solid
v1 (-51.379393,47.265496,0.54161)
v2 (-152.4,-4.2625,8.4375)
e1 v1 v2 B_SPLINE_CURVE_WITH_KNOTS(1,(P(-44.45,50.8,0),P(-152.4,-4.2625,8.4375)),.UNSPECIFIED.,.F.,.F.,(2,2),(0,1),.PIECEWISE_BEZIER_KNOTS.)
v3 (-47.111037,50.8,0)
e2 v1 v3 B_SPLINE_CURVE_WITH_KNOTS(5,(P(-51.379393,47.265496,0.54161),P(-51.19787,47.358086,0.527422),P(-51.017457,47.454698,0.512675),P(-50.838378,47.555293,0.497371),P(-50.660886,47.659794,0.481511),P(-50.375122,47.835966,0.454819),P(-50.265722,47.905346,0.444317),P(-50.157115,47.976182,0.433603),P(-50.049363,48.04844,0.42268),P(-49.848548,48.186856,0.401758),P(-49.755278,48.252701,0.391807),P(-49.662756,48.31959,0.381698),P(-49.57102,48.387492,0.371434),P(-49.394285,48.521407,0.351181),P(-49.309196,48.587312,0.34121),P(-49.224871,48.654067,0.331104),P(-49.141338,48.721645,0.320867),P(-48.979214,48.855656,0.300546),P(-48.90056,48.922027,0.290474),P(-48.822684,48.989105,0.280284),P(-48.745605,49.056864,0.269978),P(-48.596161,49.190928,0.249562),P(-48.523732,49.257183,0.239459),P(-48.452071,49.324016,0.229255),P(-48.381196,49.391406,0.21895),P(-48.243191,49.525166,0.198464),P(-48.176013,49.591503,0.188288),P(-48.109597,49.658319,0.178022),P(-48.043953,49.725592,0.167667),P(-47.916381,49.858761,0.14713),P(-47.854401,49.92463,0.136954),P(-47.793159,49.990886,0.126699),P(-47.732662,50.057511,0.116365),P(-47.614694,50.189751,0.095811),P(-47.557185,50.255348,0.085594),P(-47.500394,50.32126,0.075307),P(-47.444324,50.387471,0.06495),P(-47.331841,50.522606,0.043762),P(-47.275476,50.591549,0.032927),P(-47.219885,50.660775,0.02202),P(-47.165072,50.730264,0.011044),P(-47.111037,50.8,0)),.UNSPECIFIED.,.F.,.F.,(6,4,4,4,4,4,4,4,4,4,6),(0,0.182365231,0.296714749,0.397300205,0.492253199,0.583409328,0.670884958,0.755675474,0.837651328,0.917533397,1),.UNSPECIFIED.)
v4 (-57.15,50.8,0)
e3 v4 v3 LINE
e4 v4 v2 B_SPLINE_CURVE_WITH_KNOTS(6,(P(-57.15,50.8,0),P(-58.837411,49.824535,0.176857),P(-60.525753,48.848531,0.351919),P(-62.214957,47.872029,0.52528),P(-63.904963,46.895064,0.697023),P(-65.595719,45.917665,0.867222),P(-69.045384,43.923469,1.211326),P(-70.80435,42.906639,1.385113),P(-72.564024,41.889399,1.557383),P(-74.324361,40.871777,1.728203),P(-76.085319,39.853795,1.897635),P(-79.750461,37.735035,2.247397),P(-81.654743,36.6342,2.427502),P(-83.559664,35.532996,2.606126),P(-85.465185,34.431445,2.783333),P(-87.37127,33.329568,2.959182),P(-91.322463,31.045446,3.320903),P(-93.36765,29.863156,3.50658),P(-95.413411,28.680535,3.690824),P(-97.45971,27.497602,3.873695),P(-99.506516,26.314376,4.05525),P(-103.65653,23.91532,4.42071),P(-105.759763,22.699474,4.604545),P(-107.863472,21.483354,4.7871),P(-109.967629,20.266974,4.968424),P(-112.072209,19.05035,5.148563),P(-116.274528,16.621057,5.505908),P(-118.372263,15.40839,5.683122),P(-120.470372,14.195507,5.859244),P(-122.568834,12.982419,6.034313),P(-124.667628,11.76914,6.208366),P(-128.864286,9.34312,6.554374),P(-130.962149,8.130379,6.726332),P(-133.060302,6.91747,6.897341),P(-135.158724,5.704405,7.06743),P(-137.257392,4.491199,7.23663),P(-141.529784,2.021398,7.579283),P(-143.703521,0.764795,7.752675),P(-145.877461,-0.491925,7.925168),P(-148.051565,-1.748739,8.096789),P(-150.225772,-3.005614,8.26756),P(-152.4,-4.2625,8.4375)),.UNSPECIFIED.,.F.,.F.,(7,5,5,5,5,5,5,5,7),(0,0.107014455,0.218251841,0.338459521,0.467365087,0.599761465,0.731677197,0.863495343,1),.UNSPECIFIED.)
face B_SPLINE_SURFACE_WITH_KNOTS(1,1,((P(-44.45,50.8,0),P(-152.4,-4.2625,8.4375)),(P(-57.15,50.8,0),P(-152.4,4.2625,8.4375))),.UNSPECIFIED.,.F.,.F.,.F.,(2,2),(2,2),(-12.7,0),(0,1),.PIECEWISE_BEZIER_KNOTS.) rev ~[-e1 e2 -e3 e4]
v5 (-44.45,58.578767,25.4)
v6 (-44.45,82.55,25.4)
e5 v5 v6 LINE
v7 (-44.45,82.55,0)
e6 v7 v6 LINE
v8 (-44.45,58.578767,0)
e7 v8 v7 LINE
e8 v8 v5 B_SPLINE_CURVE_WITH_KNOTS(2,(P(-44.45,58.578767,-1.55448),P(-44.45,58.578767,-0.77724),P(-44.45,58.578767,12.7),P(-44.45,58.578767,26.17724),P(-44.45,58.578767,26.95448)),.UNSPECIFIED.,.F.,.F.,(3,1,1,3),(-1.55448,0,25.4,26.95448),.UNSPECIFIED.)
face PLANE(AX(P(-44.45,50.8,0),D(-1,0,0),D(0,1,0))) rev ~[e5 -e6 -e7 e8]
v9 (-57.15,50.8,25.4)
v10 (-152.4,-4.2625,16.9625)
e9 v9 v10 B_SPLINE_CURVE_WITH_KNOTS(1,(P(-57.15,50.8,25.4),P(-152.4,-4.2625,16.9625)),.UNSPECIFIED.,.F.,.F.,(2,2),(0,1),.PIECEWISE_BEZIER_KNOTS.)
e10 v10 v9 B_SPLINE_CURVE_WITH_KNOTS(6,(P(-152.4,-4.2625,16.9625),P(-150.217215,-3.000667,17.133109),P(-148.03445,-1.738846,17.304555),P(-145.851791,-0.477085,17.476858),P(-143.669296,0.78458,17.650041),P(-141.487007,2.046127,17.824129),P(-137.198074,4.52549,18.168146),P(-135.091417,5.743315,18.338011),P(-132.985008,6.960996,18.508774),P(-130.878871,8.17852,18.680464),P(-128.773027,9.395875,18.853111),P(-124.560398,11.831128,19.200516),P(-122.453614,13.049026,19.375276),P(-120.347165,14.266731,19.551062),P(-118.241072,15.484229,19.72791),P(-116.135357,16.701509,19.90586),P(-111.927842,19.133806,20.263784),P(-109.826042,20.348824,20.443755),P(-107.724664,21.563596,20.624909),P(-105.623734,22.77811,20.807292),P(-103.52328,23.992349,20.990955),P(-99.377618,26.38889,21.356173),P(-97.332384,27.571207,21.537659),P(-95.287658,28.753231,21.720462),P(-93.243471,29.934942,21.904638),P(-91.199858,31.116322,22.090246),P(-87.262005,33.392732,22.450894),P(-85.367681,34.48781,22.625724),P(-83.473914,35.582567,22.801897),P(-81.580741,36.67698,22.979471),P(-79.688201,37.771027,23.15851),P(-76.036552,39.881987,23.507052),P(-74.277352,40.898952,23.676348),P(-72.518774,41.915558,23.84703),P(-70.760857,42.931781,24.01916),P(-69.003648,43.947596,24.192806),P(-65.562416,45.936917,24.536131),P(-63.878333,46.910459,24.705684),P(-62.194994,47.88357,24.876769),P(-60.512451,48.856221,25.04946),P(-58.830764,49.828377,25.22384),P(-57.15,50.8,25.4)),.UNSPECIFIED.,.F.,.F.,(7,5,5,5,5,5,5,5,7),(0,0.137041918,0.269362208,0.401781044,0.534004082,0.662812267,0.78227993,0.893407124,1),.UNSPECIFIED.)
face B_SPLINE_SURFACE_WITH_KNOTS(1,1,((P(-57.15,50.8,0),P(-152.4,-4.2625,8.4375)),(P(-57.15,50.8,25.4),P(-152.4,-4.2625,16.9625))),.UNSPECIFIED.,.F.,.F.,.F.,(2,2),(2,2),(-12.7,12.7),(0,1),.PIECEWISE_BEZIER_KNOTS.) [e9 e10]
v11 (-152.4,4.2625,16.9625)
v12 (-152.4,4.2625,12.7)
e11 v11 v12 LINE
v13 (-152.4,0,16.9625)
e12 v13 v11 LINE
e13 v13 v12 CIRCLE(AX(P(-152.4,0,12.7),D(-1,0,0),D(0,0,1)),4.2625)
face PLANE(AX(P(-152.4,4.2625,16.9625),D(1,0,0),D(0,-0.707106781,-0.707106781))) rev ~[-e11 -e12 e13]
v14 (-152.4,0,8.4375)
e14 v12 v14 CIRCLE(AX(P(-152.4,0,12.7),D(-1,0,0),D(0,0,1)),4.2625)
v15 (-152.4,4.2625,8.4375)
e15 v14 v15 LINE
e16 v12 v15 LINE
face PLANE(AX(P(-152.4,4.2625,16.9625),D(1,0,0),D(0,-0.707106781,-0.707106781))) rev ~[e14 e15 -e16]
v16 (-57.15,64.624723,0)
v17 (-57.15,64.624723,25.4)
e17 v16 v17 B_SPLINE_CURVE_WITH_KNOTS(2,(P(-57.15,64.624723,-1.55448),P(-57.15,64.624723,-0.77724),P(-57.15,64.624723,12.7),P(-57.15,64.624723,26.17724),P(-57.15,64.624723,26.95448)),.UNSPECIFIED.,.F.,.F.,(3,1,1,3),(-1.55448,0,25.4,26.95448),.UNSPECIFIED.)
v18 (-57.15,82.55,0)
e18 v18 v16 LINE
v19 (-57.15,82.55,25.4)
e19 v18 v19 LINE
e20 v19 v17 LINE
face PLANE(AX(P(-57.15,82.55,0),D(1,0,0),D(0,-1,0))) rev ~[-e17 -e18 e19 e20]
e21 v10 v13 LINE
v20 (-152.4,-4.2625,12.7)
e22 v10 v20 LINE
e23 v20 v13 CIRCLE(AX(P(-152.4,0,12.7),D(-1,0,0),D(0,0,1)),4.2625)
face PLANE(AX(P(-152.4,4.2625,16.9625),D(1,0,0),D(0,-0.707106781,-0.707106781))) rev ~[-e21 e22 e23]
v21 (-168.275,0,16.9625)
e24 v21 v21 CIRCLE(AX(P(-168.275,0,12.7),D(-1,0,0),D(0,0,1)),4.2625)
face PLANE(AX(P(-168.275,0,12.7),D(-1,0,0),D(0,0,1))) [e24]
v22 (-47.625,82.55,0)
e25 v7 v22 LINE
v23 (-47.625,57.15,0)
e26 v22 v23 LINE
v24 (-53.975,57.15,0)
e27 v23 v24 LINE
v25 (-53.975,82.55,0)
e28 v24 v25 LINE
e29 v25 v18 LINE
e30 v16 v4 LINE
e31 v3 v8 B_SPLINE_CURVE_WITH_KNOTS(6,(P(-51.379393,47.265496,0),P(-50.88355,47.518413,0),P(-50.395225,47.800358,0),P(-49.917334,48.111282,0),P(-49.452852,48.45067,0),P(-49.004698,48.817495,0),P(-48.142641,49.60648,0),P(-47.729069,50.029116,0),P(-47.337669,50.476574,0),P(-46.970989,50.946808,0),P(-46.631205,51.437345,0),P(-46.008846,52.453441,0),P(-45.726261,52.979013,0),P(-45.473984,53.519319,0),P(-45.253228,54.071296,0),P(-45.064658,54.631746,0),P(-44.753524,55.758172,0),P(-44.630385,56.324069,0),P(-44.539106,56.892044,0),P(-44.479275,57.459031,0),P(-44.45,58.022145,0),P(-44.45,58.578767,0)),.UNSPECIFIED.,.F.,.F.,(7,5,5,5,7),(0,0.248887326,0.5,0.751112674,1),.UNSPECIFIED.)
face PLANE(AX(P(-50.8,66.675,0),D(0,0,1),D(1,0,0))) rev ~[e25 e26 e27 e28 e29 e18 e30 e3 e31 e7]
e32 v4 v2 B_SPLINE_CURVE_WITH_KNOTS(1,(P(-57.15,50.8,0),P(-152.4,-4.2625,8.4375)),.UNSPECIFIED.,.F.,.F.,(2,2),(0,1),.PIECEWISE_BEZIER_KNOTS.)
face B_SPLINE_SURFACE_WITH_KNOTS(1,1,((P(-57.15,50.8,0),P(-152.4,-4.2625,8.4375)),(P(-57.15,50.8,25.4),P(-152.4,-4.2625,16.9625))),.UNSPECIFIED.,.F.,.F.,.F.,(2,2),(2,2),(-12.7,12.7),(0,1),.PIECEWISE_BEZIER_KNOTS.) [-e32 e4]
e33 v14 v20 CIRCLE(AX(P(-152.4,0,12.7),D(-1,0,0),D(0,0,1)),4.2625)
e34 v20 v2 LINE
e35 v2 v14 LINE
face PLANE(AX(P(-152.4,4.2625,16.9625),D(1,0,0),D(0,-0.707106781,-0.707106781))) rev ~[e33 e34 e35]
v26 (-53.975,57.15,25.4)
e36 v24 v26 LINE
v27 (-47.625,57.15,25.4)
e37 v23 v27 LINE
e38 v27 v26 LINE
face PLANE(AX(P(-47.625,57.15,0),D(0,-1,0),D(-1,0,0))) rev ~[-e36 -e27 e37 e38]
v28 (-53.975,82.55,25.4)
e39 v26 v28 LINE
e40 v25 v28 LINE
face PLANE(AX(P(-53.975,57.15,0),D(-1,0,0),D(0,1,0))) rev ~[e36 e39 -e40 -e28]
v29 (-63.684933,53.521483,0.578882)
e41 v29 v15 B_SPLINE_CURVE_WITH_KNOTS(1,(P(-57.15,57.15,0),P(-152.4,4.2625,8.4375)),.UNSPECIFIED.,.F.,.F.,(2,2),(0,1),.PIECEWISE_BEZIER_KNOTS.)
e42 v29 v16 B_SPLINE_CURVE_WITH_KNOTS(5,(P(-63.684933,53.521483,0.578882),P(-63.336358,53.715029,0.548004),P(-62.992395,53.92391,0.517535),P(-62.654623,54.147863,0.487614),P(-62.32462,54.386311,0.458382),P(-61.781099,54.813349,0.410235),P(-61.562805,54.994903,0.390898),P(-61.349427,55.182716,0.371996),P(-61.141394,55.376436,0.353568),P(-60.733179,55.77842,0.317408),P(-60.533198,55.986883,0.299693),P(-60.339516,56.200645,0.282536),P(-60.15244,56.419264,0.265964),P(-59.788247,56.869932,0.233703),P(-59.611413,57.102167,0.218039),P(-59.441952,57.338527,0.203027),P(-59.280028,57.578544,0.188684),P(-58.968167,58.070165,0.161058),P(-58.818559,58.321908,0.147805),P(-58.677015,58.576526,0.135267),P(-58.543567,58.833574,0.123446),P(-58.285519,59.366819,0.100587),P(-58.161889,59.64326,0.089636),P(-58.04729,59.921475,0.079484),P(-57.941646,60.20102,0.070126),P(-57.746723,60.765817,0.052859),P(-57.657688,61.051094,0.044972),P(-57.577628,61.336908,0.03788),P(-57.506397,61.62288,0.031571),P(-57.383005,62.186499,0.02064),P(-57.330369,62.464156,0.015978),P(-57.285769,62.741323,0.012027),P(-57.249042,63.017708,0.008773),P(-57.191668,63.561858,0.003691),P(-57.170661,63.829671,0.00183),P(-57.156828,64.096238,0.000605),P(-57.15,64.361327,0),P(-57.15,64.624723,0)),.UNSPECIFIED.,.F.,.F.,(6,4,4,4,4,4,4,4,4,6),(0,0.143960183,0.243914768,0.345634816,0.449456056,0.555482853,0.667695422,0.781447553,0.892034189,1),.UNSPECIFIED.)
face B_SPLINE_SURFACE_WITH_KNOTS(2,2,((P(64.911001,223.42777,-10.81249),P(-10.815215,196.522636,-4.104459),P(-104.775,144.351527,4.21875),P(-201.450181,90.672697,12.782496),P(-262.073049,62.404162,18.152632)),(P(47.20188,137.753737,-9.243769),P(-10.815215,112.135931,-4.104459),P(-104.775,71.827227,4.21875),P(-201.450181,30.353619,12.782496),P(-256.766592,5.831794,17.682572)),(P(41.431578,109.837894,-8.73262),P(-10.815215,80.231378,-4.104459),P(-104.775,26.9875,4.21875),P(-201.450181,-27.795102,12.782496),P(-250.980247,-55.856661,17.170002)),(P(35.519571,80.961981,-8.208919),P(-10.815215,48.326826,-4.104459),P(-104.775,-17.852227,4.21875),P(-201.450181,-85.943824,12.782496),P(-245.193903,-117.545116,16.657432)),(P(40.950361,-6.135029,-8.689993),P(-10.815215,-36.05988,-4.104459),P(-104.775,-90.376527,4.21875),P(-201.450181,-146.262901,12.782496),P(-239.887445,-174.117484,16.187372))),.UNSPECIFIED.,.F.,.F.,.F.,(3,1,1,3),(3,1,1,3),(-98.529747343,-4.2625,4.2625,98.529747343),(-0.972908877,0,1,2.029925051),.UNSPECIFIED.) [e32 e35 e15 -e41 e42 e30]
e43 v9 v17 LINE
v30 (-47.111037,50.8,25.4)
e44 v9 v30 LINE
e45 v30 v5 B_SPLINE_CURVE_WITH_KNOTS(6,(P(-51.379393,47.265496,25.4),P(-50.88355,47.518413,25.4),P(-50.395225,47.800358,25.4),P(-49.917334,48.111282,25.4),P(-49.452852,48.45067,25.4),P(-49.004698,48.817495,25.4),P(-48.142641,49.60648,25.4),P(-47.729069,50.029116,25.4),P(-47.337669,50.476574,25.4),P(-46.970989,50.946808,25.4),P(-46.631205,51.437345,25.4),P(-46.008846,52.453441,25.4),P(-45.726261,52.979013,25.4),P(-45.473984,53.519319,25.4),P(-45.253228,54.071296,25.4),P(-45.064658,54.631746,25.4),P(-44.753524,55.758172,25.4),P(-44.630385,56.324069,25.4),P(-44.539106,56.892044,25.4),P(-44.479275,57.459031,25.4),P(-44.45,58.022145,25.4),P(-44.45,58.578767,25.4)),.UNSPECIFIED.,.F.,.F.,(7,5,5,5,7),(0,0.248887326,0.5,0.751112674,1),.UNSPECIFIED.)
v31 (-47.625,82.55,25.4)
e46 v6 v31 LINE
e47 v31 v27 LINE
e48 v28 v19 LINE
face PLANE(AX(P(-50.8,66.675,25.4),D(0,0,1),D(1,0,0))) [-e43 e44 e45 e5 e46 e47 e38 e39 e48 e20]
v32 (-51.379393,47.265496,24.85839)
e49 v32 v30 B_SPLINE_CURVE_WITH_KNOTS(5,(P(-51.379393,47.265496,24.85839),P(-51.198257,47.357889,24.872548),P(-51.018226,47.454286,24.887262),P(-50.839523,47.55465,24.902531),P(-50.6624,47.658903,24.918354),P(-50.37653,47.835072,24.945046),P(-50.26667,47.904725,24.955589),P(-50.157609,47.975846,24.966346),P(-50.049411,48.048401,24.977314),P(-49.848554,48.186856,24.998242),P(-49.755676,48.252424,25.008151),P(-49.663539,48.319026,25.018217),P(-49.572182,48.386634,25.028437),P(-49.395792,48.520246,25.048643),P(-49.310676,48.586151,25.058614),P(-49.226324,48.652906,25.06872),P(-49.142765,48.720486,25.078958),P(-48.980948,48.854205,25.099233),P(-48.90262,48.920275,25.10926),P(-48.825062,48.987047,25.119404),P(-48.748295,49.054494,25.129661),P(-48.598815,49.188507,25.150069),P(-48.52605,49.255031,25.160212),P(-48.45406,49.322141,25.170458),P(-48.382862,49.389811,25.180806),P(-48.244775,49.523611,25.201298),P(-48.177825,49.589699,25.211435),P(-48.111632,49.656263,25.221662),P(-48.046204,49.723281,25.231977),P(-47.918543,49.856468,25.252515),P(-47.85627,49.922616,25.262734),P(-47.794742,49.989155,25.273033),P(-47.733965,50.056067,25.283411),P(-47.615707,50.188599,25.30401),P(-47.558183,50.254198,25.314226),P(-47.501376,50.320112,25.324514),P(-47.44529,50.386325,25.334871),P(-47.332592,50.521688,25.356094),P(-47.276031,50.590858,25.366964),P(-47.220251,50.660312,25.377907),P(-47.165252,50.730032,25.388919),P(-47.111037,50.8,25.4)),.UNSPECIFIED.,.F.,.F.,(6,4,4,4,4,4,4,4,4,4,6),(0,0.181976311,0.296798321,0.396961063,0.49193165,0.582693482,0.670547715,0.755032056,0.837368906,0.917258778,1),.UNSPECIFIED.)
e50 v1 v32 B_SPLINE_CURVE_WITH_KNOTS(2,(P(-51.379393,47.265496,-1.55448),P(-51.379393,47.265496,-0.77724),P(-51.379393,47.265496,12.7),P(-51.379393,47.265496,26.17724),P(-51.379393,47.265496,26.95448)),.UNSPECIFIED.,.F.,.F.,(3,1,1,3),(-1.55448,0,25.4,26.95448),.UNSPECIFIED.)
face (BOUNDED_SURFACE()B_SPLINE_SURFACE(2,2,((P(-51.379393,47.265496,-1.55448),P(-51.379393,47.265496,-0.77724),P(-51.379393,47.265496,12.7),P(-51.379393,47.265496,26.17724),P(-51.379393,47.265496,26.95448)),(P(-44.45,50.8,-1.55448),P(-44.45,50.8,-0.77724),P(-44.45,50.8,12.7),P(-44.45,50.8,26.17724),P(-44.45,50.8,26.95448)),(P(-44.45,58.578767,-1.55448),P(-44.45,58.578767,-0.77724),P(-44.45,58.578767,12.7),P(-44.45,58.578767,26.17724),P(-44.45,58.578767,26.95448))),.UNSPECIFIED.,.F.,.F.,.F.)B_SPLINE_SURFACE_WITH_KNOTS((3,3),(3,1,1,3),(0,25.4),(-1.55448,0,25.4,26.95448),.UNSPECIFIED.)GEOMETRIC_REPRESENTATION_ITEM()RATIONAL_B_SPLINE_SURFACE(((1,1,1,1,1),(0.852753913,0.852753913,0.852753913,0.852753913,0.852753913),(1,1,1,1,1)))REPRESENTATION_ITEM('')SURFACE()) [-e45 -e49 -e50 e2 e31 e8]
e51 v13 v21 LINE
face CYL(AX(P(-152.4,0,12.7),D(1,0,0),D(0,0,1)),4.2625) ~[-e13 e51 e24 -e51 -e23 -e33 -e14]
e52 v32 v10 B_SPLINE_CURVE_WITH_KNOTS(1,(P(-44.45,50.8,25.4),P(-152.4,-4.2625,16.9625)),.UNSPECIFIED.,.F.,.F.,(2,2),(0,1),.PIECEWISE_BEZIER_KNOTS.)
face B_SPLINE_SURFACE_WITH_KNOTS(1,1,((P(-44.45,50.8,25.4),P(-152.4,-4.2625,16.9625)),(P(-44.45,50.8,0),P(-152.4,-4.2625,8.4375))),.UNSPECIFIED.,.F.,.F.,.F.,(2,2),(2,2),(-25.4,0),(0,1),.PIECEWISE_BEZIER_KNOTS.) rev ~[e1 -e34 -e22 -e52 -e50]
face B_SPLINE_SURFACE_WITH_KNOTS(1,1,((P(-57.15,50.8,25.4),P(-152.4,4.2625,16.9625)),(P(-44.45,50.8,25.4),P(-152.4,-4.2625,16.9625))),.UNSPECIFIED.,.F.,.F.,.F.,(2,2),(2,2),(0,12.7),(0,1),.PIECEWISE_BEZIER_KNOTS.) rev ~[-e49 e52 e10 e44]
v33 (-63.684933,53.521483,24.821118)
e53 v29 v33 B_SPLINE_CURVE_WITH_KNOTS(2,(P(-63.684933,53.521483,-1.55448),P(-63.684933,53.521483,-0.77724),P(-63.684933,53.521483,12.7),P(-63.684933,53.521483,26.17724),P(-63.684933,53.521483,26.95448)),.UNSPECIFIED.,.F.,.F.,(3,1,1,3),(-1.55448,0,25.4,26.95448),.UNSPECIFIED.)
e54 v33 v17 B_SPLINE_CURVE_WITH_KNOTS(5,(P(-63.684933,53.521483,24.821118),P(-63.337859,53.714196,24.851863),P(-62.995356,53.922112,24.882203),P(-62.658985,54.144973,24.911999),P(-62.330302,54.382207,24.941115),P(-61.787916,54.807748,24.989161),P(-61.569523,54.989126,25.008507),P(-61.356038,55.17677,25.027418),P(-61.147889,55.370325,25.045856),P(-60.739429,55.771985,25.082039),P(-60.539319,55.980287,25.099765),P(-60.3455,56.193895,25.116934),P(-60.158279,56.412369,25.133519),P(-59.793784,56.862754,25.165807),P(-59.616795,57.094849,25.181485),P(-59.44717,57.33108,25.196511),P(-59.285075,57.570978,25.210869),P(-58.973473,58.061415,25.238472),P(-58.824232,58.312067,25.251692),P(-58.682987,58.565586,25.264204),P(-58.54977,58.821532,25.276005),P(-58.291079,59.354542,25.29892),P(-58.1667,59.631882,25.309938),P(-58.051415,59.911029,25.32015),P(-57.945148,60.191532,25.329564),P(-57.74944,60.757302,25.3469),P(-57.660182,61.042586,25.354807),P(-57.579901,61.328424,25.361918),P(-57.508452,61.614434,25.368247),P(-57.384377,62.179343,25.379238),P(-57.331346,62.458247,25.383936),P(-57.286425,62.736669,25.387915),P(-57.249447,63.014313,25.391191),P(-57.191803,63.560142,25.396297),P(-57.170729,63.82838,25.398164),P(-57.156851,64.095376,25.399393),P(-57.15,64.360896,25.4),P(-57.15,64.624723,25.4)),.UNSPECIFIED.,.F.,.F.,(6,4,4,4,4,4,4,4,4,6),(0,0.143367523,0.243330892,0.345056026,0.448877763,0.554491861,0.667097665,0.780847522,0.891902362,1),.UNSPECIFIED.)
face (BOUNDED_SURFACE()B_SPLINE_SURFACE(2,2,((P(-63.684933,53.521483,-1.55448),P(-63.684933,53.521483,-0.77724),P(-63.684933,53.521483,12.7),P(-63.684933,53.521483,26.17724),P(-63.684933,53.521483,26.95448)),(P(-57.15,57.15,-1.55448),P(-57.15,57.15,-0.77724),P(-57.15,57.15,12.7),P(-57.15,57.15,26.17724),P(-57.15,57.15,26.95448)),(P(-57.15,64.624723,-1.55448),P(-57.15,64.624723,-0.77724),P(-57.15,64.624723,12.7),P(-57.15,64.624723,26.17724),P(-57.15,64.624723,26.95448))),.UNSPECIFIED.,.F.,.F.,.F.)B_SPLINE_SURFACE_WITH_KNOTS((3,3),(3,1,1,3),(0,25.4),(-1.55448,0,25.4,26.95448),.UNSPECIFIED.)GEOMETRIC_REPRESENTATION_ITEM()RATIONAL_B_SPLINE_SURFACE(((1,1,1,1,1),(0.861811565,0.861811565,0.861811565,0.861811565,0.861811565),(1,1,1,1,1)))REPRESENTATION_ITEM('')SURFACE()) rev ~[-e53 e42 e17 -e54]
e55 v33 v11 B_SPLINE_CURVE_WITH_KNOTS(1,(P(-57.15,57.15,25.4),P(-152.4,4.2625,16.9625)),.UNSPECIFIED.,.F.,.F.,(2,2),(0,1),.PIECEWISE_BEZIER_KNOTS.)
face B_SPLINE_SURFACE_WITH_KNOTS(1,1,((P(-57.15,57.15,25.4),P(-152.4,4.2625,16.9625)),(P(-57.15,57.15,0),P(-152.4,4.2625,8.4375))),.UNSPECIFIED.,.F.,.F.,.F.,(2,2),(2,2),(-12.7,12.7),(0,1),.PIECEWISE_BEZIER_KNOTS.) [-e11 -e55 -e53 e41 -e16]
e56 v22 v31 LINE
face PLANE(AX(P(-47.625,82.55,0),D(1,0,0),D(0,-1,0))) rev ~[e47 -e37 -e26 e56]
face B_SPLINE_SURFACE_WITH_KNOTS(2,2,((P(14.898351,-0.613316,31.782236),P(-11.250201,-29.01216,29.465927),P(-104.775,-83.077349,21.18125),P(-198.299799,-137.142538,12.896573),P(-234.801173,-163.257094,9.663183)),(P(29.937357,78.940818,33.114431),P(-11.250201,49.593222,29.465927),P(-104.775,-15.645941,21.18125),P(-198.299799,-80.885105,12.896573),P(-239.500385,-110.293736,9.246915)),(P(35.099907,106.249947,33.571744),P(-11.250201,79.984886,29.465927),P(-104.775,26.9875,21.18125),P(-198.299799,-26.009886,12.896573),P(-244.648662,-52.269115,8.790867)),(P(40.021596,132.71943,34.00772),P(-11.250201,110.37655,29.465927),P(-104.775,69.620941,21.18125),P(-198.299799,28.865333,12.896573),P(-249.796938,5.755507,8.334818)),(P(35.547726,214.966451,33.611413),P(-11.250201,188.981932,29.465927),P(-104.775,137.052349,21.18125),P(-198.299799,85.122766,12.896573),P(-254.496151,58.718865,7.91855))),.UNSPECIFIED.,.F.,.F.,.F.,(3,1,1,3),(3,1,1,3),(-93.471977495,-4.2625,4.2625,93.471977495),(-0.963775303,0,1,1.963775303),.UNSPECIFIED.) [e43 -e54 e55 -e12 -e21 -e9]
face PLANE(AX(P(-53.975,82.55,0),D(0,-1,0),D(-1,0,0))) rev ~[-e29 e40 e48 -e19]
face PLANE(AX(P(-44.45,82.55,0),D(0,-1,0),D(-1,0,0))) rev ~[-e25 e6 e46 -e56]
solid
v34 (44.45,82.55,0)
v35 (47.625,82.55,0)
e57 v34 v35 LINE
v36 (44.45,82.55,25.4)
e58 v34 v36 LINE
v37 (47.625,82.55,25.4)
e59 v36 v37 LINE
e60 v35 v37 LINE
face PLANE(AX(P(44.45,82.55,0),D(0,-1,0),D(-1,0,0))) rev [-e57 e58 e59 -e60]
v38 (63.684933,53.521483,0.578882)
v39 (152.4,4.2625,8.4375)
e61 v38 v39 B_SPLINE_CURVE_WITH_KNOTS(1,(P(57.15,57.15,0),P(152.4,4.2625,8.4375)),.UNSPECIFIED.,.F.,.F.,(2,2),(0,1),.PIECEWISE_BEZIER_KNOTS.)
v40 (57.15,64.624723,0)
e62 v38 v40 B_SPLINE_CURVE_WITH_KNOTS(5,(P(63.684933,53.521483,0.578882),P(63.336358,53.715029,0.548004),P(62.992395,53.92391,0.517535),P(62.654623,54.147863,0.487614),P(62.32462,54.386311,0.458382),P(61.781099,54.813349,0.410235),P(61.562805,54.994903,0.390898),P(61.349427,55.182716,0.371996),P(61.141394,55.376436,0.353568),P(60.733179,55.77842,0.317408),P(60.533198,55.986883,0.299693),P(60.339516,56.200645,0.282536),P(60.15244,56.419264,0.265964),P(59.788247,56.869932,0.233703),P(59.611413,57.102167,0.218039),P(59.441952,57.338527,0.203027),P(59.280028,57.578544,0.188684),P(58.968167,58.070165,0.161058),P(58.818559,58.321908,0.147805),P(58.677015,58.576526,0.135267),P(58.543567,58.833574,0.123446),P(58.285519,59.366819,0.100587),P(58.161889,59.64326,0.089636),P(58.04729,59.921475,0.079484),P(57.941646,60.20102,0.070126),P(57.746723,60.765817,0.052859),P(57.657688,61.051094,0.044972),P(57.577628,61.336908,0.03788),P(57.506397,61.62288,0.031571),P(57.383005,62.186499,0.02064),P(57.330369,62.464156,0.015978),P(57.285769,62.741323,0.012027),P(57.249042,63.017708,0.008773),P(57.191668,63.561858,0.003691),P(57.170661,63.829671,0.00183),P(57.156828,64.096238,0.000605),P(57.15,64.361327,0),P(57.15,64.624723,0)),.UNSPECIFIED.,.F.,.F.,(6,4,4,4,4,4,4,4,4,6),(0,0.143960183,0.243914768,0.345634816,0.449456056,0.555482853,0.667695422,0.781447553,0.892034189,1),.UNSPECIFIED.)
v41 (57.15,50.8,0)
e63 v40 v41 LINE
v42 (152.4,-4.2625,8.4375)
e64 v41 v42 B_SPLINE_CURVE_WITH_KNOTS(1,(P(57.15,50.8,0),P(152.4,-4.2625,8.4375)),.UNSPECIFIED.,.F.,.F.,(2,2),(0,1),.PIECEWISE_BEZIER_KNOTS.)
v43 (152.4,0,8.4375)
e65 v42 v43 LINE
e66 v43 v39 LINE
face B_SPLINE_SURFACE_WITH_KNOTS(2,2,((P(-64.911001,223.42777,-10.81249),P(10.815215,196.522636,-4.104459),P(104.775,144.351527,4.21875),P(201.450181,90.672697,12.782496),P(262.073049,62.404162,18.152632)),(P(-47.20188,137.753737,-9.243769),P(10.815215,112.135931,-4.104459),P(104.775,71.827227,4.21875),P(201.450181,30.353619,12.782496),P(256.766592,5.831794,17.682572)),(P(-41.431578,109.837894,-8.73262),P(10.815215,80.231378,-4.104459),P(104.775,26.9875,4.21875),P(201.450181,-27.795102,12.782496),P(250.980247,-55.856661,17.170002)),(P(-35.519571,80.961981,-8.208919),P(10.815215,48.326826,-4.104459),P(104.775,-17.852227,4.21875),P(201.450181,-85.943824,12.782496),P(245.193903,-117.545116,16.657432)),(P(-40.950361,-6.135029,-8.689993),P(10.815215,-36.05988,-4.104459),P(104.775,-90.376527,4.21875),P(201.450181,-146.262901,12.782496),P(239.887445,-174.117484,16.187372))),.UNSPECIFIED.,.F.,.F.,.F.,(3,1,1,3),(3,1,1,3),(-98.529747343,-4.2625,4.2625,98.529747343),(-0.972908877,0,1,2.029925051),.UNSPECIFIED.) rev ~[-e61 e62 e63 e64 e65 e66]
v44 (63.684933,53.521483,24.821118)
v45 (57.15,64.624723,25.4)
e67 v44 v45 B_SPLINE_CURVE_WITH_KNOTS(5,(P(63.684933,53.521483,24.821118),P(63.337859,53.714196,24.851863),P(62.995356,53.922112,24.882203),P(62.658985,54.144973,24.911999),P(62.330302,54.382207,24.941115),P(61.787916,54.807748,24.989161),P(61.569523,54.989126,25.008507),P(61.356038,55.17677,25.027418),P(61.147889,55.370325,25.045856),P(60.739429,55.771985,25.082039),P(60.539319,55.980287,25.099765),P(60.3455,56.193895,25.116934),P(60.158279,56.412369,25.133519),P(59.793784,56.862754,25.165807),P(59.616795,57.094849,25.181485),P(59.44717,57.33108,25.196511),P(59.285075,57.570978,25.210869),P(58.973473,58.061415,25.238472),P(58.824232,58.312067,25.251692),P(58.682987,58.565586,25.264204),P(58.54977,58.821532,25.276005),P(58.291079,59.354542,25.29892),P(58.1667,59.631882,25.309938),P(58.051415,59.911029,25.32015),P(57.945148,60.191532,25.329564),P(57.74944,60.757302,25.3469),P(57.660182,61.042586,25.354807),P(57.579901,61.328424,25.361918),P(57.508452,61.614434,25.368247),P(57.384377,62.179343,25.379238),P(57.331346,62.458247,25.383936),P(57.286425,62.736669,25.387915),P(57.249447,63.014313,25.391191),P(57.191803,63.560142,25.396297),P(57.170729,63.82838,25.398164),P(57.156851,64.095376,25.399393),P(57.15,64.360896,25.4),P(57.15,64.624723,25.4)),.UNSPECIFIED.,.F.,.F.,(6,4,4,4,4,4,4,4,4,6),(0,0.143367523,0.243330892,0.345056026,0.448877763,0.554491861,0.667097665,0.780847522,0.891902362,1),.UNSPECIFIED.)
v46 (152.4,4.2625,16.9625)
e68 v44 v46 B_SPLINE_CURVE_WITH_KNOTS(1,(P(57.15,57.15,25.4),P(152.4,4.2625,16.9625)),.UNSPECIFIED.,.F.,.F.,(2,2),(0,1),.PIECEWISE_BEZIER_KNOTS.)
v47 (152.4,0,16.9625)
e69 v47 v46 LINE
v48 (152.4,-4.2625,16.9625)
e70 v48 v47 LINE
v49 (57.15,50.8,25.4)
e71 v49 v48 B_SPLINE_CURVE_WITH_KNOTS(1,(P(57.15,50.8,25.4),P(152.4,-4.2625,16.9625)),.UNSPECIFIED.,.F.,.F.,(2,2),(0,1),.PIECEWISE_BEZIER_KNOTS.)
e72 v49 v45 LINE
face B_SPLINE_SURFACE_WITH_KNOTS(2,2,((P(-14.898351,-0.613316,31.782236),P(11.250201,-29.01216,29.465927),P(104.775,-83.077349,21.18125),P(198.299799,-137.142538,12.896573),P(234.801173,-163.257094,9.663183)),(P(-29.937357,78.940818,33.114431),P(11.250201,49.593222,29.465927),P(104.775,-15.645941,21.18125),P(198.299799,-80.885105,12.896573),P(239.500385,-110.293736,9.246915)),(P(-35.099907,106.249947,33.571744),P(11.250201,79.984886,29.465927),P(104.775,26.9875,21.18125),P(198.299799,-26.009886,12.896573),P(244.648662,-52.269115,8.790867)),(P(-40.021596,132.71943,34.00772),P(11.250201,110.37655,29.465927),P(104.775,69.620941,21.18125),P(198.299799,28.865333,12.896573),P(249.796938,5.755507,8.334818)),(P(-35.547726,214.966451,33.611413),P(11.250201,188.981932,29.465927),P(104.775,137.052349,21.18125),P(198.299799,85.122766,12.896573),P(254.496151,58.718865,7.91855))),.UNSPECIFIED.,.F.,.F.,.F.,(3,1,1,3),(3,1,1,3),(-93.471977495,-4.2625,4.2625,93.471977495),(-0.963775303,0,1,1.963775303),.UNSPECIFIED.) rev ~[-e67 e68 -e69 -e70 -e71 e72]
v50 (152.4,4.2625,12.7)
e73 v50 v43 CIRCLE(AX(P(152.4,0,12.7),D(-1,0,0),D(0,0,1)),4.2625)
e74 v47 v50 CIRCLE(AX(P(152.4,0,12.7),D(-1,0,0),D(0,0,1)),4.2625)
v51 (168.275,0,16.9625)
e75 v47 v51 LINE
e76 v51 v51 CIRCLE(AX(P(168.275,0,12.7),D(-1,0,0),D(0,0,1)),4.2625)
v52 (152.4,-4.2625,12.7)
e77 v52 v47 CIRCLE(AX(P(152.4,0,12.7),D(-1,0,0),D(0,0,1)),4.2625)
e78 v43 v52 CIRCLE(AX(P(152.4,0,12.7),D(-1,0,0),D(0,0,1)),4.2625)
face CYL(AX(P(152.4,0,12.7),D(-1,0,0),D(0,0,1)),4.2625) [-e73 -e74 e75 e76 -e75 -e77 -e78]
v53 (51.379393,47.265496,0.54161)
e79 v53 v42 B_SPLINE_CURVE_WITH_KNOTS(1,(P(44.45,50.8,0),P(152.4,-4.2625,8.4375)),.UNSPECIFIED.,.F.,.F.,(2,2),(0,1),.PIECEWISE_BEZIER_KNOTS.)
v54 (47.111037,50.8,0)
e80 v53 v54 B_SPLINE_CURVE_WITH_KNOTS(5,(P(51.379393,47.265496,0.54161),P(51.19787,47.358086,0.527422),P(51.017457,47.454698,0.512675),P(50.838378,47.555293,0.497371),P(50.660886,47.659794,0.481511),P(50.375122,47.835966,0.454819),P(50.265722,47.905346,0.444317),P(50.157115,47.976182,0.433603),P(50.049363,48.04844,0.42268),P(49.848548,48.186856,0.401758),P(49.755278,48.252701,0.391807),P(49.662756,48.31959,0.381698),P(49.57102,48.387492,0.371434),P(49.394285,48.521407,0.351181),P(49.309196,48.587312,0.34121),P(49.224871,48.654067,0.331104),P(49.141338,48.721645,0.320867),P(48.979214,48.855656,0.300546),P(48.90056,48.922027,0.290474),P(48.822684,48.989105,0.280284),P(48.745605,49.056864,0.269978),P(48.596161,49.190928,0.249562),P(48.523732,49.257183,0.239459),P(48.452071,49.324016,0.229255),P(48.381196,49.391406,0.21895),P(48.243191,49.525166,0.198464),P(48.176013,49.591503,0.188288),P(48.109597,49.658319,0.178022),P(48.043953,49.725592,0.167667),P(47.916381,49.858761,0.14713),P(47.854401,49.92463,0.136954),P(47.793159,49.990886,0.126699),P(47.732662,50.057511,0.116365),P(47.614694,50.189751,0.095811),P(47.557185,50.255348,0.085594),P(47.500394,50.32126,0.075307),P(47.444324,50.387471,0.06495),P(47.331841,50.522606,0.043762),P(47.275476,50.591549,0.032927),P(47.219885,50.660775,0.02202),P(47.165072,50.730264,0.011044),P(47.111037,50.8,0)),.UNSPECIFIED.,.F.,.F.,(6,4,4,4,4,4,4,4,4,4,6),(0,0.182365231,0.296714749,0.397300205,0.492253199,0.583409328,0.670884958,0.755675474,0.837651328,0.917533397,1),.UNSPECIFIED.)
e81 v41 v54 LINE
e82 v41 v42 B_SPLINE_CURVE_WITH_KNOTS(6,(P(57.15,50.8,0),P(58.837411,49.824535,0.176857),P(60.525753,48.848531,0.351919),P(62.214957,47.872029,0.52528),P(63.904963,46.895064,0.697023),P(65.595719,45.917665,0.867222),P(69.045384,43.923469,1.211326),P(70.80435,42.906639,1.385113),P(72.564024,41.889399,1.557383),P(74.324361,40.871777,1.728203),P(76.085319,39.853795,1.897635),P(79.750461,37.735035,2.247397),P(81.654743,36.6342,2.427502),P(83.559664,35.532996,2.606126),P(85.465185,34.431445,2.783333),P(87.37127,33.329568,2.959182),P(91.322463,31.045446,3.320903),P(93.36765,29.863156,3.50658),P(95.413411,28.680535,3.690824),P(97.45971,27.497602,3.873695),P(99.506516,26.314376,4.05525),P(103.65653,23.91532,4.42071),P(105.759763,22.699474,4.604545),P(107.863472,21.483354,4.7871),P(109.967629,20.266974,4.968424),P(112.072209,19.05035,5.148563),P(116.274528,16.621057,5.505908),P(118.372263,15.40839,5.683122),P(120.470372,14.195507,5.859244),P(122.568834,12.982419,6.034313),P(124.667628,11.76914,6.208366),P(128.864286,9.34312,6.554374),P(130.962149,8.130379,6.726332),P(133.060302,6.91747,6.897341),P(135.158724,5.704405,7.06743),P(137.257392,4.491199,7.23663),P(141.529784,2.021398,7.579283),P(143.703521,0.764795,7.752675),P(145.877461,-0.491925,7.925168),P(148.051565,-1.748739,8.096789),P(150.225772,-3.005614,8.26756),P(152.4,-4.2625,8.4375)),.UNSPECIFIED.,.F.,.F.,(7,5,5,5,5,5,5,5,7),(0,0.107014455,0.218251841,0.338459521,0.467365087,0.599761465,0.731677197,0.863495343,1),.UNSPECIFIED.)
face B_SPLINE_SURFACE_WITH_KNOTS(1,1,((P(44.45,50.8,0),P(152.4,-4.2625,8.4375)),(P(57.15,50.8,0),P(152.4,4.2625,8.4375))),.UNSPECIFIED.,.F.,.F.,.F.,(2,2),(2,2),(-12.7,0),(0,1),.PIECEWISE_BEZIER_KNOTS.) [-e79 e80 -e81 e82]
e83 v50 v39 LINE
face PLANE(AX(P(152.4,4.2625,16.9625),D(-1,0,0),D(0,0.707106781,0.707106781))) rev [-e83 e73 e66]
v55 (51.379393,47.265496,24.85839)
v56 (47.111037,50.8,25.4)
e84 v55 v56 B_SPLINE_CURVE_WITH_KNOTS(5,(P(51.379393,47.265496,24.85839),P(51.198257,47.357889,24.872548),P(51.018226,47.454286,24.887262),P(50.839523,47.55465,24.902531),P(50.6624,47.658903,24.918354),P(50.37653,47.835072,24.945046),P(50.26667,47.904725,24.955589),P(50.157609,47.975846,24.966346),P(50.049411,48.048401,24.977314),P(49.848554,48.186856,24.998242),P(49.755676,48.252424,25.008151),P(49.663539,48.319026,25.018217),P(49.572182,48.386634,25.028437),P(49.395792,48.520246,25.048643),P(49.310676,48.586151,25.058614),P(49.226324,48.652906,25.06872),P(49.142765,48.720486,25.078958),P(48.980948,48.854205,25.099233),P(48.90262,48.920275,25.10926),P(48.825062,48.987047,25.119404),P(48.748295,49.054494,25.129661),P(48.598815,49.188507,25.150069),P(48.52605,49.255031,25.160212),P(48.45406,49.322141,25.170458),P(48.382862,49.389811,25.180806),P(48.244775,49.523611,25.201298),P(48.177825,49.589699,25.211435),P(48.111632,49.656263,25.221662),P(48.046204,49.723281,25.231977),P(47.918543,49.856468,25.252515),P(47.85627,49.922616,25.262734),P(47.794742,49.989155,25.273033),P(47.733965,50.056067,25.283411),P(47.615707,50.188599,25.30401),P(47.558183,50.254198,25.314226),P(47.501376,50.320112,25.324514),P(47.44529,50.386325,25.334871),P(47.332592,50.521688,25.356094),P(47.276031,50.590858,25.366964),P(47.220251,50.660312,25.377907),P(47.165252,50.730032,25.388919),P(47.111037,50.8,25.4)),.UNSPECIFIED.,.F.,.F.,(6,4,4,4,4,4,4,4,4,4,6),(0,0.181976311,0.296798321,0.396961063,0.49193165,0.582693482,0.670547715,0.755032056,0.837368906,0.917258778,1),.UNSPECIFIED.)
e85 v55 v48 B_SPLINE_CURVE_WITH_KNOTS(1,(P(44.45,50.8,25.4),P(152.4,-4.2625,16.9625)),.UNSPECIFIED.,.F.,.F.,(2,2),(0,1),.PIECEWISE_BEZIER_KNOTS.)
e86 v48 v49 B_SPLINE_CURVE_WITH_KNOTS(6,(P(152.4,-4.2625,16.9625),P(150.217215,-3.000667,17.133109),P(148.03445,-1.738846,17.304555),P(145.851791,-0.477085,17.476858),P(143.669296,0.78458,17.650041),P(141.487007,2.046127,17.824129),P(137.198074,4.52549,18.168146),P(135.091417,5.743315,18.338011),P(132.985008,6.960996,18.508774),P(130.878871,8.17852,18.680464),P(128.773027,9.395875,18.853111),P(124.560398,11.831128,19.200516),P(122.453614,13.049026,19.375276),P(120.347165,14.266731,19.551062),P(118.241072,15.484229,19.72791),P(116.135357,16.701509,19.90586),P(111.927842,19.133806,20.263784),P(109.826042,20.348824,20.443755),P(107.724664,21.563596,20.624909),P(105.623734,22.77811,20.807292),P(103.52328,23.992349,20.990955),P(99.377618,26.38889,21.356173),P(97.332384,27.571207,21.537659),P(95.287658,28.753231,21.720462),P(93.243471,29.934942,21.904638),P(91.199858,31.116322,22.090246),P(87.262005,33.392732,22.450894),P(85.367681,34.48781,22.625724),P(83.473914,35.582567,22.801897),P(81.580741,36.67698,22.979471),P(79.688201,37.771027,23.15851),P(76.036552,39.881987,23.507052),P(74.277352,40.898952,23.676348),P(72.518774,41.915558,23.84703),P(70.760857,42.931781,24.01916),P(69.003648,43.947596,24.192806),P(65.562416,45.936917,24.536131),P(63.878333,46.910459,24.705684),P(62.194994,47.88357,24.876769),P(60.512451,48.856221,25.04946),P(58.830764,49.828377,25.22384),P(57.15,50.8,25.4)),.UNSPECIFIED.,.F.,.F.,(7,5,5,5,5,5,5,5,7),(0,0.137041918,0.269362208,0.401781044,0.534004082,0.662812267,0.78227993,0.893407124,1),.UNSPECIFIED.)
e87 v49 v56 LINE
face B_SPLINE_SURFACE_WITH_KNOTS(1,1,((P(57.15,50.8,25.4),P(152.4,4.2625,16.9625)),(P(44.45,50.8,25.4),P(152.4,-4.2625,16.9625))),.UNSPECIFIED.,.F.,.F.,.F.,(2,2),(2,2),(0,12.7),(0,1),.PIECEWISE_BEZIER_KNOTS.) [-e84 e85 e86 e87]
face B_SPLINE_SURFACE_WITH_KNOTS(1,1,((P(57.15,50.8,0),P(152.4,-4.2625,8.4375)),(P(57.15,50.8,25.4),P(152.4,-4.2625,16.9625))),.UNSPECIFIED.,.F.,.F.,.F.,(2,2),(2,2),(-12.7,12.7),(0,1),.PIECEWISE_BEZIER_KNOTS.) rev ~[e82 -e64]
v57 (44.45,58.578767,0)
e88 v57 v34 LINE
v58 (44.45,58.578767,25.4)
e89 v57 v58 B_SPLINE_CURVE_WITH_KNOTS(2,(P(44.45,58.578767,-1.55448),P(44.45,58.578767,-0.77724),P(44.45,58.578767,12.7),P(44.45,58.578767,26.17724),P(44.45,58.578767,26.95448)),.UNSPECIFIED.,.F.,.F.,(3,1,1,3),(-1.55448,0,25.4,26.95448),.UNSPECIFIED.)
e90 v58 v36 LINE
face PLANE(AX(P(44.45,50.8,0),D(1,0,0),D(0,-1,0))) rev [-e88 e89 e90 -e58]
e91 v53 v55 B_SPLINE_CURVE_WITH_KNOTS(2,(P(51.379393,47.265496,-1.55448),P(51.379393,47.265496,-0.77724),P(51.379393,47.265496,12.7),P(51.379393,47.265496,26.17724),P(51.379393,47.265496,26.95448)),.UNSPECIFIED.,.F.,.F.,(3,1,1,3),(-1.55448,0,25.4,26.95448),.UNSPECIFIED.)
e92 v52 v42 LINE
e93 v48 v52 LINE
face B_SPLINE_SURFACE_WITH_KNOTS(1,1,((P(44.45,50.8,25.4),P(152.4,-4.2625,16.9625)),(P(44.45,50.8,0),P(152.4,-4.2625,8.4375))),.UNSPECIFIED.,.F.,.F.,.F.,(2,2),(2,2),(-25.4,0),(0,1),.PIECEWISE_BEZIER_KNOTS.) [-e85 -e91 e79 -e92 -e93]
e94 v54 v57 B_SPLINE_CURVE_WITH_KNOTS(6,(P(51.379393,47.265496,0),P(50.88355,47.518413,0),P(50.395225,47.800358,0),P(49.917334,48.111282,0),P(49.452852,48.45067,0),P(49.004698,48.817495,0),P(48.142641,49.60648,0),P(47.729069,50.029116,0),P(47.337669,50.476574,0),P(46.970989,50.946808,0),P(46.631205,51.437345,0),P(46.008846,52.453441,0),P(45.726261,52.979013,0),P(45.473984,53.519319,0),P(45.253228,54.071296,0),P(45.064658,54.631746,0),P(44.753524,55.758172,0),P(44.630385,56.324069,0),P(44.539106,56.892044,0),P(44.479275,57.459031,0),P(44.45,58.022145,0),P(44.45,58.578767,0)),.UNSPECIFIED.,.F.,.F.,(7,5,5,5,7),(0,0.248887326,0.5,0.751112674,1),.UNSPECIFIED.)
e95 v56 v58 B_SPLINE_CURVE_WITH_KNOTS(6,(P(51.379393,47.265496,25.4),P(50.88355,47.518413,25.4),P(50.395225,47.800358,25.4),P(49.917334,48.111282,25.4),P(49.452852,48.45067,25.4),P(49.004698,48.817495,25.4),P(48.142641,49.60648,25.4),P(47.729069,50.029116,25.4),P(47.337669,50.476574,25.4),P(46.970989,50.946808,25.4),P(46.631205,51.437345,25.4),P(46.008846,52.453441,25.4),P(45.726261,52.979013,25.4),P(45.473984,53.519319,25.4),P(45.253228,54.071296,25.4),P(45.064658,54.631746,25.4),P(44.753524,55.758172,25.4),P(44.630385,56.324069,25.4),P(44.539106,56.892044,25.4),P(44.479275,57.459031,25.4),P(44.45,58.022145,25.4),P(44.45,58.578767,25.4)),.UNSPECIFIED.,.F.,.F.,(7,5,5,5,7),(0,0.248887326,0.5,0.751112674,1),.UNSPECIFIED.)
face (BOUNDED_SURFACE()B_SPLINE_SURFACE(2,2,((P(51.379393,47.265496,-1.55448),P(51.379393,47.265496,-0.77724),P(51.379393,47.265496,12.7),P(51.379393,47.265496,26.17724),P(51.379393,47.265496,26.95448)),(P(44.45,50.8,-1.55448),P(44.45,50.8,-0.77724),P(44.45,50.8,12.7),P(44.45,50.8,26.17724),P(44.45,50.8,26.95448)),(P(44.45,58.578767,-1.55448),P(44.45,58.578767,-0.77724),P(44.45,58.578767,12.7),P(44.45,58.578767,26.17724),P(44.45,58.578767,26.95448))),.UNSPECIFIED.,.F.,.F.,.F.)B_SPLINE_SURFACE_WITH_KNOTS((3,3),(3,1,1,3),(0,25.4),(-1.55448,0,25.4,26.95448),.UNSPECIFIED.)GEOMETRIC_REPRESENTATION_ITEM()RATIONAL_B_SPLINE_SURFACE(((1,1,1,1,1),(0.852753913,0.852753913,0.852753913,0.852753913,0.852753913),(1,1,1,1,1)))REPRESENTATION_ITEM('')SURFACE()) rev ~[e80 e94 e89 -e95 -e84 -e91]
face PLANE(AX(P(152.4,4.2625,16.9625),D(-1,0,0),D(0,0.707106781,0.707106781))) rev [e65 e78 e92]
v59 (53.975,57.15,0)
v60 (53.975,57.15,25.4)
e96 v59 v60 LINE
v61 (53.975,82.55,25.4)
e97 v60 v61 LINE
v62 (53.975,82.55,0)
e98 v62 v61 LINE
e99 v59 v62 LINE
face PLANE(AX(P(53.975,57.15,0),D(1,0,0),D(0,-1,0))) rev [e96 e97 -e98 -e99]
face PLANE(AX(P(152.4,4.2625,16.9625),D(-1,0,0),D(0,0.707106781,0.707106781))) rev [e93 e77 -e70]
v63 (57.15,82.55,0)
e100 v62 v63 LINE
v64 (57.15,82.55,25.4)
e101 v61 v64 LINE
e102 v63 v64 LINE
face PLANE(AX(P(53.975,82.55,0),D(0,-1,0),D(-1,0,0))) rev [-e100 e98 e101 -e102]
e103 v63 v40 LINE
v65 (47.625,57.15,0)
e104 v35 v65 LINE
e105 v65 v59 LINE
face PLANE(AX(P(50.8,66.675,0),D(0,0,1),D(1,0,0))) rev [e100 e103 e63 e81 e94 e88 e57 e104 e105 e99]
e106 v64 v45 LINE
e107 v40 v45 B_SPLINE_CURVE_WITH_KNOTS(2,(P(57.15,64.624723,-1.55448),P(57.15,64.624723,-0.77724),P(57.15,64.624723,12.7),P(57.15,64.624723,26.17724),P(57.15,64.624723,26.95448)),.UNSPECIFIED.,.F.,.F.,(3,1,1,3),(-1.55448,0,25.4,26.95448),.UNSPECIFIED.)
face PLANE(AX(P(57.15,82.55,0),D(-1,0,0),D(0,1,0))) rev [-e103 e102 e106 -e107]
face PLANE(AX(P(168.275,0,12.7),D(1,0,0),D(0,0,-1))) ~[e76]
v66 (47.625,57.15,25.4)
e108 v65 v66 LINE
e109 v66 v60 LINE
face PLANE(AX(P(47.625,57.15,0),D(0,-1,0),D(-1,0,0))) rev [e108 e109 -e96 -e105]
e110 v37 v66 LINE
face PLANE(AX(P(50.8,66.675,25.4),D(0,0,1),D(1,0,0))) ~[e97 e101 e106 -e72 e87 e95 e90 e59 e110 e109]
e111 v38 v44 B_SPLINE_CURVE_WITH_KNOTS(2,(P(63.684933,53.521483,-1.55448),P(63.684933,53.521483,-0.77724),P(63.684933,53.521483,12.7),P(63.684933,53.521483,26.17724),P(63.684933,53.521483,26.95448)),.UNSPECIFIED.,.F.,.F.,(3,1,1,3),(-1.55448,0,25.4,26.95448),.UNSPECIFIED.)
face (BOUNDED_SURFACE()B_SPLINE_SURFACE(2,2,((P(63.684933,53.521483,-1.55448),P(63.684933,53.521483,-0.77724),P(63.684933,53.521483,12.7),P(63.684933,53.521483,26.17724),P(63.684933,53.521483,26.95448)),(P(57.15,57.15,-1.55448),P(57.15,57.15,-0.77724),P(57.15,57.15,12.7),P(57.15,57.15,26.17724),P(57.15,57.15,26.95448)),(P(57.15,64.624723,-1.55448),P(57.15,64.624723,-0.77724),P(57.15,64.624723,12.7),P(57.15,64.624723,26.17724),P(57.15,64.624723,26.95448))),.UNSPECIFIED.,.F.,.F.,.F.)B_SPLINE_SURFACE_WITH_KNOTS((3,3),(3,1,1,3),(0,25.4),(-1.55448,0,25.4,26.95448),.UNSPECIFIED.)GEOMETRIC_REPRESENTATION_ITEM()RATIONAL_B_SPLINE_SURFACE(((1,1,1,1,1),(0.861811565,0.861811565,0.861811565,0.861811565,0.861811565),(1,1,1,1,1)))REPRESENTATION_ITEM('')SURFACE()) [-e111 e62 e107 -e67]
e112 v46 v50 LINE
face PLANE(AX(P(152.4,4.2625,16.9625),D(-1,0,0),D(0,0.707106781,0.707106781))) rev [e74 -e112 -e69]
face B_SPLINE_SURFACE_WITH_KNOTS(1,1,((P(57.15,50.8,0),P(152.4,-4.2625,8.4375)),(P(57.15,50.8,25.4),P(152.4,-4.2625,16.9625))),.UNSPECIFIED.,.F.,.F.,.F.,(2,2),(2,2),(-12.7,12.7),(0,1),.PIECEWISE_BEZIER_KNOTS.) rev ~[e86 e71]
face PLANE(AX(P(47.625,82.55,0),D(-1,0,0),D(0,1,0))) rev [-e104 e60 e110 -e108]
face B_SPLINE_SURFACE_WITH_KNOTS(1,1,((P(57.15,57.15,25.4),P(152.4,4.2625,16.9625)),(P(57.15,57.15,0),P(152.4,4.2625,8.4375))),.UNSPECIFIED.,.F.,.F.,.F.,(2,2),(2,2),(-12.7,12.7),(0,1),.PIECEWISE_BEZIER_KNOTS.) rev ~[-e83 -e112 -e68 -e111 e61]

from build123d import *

# Parameters (mm, degrees)
BOSS_EXTRUDE1_DEPTH = 25.4
FILLET2_R           = 12.7
FILLET3_R           = 12.7
SKETCH7_R           = 4.2625
BOSS_EXTRUDE3_DEPTH = 15.875


with BuildPart() as part:
    # Sketch3 → Boss-Extrude1 (new body)
    with BuildSketch(Plane.XY):
        Polygon((-44.45, 50.8), (-44.45, 82.55), (-47.625, 82.55), (-47.625, 57.15), (-53.975, 57.15), (-53.975, 82.55), (-57.15, 82.55), (-57.15, 50.8), align=None)
    extrude(amount=BOSS_EXTRUDE1_DEPTH)

    # Sketch5 → section 1 of loft1
    with BuildSketch(Plane(origin=(-152.4, 0, 0), x_dir=(0, 0, -1), z_dir=(1, 0, 0)), mode=Mode.PRIVATE) as loft1_s1:
        with BuildLine():
            Line((-16.9625, 4.2625), (-8.4375, 4.2625))
            Line((-8.4375, 4.2625), (-8.4375, -4.2625))
            Line((-8.4375, -4.2625), (-16.9625, -4.2625))
            Line((-16.9625, -4.2625), (-16.9625, 4.2625))
        make_face()
    # loft from a face of the part (loft1)
    loft([part.faces().sort_by_distance((-50.8, 50.8, 12.7))[0], loft1_s1.sketch])

    # Sketch6 → Loft2 section 0
    with BuildSketch(Plane.ZY.offset(57.15)):
        with BuildLine():
            Line((0, 50.8), (25.4, 50.8))
            Line((25.4, 50.8), (25.4, 57.15))
            Line((25.4, 57.15), (0, 57.15))
            Line((0, 57.15), (0, 50.8))
        make_face()
    # Sketch5<2> → Loft2 section 1
    with BuildSketch(Plane(origin=(-152.4, 0, 0), x_dir=(0, 0, -1), z_dir=(1, 0, 0))):
        with BuildLine():
            Line((-16.9625, 4.2625), (-8.4375, 4.2625))
            Line((-8.4375, 4.2625), (-8.4375, -4.2625))
            Line((-8.4375, -4.2625), (-16.9625, -4.2625))
            Line((-16.9625, -4.2625), (-16.9625, 4.2625))
        make_face()
    loft()

    # Fillet2
    fillet2_edges = [part.edges().sort_by_distance(p)[0] for p in [
        (-57.15, 57.15, 12.7),
    ]]
    fillet(fillet2_edges, radius=FILLET2_R)

    # Fillet3
    fillet3_edges = [part.edges().sort_by_distance(p)[0] for p in [
        (-44.45, 50.8, 12.7),
    ]]
    fillet(fillet3_edges, radius=FILLET3_R)

    # Sketch7 → Boss-Extrude3 (add)
    with BuildSketch(Plane.ZY.offset(152.4)):
        with Locations((12.7, 0)):
            Circle(SKETCH7_R)
    extrude(amount=BOSS_EXTRUDE3_DEPTH)


with BuildPart() as body_2:
    # Mirror2: mirrored copy
    add(part.part.mirror(Plane(origin=(0, 0, 0), x_dir=(0, 0, 1), z_dir=(1, 0, 0))))


solid = Compound([part.part, body_2.part])
